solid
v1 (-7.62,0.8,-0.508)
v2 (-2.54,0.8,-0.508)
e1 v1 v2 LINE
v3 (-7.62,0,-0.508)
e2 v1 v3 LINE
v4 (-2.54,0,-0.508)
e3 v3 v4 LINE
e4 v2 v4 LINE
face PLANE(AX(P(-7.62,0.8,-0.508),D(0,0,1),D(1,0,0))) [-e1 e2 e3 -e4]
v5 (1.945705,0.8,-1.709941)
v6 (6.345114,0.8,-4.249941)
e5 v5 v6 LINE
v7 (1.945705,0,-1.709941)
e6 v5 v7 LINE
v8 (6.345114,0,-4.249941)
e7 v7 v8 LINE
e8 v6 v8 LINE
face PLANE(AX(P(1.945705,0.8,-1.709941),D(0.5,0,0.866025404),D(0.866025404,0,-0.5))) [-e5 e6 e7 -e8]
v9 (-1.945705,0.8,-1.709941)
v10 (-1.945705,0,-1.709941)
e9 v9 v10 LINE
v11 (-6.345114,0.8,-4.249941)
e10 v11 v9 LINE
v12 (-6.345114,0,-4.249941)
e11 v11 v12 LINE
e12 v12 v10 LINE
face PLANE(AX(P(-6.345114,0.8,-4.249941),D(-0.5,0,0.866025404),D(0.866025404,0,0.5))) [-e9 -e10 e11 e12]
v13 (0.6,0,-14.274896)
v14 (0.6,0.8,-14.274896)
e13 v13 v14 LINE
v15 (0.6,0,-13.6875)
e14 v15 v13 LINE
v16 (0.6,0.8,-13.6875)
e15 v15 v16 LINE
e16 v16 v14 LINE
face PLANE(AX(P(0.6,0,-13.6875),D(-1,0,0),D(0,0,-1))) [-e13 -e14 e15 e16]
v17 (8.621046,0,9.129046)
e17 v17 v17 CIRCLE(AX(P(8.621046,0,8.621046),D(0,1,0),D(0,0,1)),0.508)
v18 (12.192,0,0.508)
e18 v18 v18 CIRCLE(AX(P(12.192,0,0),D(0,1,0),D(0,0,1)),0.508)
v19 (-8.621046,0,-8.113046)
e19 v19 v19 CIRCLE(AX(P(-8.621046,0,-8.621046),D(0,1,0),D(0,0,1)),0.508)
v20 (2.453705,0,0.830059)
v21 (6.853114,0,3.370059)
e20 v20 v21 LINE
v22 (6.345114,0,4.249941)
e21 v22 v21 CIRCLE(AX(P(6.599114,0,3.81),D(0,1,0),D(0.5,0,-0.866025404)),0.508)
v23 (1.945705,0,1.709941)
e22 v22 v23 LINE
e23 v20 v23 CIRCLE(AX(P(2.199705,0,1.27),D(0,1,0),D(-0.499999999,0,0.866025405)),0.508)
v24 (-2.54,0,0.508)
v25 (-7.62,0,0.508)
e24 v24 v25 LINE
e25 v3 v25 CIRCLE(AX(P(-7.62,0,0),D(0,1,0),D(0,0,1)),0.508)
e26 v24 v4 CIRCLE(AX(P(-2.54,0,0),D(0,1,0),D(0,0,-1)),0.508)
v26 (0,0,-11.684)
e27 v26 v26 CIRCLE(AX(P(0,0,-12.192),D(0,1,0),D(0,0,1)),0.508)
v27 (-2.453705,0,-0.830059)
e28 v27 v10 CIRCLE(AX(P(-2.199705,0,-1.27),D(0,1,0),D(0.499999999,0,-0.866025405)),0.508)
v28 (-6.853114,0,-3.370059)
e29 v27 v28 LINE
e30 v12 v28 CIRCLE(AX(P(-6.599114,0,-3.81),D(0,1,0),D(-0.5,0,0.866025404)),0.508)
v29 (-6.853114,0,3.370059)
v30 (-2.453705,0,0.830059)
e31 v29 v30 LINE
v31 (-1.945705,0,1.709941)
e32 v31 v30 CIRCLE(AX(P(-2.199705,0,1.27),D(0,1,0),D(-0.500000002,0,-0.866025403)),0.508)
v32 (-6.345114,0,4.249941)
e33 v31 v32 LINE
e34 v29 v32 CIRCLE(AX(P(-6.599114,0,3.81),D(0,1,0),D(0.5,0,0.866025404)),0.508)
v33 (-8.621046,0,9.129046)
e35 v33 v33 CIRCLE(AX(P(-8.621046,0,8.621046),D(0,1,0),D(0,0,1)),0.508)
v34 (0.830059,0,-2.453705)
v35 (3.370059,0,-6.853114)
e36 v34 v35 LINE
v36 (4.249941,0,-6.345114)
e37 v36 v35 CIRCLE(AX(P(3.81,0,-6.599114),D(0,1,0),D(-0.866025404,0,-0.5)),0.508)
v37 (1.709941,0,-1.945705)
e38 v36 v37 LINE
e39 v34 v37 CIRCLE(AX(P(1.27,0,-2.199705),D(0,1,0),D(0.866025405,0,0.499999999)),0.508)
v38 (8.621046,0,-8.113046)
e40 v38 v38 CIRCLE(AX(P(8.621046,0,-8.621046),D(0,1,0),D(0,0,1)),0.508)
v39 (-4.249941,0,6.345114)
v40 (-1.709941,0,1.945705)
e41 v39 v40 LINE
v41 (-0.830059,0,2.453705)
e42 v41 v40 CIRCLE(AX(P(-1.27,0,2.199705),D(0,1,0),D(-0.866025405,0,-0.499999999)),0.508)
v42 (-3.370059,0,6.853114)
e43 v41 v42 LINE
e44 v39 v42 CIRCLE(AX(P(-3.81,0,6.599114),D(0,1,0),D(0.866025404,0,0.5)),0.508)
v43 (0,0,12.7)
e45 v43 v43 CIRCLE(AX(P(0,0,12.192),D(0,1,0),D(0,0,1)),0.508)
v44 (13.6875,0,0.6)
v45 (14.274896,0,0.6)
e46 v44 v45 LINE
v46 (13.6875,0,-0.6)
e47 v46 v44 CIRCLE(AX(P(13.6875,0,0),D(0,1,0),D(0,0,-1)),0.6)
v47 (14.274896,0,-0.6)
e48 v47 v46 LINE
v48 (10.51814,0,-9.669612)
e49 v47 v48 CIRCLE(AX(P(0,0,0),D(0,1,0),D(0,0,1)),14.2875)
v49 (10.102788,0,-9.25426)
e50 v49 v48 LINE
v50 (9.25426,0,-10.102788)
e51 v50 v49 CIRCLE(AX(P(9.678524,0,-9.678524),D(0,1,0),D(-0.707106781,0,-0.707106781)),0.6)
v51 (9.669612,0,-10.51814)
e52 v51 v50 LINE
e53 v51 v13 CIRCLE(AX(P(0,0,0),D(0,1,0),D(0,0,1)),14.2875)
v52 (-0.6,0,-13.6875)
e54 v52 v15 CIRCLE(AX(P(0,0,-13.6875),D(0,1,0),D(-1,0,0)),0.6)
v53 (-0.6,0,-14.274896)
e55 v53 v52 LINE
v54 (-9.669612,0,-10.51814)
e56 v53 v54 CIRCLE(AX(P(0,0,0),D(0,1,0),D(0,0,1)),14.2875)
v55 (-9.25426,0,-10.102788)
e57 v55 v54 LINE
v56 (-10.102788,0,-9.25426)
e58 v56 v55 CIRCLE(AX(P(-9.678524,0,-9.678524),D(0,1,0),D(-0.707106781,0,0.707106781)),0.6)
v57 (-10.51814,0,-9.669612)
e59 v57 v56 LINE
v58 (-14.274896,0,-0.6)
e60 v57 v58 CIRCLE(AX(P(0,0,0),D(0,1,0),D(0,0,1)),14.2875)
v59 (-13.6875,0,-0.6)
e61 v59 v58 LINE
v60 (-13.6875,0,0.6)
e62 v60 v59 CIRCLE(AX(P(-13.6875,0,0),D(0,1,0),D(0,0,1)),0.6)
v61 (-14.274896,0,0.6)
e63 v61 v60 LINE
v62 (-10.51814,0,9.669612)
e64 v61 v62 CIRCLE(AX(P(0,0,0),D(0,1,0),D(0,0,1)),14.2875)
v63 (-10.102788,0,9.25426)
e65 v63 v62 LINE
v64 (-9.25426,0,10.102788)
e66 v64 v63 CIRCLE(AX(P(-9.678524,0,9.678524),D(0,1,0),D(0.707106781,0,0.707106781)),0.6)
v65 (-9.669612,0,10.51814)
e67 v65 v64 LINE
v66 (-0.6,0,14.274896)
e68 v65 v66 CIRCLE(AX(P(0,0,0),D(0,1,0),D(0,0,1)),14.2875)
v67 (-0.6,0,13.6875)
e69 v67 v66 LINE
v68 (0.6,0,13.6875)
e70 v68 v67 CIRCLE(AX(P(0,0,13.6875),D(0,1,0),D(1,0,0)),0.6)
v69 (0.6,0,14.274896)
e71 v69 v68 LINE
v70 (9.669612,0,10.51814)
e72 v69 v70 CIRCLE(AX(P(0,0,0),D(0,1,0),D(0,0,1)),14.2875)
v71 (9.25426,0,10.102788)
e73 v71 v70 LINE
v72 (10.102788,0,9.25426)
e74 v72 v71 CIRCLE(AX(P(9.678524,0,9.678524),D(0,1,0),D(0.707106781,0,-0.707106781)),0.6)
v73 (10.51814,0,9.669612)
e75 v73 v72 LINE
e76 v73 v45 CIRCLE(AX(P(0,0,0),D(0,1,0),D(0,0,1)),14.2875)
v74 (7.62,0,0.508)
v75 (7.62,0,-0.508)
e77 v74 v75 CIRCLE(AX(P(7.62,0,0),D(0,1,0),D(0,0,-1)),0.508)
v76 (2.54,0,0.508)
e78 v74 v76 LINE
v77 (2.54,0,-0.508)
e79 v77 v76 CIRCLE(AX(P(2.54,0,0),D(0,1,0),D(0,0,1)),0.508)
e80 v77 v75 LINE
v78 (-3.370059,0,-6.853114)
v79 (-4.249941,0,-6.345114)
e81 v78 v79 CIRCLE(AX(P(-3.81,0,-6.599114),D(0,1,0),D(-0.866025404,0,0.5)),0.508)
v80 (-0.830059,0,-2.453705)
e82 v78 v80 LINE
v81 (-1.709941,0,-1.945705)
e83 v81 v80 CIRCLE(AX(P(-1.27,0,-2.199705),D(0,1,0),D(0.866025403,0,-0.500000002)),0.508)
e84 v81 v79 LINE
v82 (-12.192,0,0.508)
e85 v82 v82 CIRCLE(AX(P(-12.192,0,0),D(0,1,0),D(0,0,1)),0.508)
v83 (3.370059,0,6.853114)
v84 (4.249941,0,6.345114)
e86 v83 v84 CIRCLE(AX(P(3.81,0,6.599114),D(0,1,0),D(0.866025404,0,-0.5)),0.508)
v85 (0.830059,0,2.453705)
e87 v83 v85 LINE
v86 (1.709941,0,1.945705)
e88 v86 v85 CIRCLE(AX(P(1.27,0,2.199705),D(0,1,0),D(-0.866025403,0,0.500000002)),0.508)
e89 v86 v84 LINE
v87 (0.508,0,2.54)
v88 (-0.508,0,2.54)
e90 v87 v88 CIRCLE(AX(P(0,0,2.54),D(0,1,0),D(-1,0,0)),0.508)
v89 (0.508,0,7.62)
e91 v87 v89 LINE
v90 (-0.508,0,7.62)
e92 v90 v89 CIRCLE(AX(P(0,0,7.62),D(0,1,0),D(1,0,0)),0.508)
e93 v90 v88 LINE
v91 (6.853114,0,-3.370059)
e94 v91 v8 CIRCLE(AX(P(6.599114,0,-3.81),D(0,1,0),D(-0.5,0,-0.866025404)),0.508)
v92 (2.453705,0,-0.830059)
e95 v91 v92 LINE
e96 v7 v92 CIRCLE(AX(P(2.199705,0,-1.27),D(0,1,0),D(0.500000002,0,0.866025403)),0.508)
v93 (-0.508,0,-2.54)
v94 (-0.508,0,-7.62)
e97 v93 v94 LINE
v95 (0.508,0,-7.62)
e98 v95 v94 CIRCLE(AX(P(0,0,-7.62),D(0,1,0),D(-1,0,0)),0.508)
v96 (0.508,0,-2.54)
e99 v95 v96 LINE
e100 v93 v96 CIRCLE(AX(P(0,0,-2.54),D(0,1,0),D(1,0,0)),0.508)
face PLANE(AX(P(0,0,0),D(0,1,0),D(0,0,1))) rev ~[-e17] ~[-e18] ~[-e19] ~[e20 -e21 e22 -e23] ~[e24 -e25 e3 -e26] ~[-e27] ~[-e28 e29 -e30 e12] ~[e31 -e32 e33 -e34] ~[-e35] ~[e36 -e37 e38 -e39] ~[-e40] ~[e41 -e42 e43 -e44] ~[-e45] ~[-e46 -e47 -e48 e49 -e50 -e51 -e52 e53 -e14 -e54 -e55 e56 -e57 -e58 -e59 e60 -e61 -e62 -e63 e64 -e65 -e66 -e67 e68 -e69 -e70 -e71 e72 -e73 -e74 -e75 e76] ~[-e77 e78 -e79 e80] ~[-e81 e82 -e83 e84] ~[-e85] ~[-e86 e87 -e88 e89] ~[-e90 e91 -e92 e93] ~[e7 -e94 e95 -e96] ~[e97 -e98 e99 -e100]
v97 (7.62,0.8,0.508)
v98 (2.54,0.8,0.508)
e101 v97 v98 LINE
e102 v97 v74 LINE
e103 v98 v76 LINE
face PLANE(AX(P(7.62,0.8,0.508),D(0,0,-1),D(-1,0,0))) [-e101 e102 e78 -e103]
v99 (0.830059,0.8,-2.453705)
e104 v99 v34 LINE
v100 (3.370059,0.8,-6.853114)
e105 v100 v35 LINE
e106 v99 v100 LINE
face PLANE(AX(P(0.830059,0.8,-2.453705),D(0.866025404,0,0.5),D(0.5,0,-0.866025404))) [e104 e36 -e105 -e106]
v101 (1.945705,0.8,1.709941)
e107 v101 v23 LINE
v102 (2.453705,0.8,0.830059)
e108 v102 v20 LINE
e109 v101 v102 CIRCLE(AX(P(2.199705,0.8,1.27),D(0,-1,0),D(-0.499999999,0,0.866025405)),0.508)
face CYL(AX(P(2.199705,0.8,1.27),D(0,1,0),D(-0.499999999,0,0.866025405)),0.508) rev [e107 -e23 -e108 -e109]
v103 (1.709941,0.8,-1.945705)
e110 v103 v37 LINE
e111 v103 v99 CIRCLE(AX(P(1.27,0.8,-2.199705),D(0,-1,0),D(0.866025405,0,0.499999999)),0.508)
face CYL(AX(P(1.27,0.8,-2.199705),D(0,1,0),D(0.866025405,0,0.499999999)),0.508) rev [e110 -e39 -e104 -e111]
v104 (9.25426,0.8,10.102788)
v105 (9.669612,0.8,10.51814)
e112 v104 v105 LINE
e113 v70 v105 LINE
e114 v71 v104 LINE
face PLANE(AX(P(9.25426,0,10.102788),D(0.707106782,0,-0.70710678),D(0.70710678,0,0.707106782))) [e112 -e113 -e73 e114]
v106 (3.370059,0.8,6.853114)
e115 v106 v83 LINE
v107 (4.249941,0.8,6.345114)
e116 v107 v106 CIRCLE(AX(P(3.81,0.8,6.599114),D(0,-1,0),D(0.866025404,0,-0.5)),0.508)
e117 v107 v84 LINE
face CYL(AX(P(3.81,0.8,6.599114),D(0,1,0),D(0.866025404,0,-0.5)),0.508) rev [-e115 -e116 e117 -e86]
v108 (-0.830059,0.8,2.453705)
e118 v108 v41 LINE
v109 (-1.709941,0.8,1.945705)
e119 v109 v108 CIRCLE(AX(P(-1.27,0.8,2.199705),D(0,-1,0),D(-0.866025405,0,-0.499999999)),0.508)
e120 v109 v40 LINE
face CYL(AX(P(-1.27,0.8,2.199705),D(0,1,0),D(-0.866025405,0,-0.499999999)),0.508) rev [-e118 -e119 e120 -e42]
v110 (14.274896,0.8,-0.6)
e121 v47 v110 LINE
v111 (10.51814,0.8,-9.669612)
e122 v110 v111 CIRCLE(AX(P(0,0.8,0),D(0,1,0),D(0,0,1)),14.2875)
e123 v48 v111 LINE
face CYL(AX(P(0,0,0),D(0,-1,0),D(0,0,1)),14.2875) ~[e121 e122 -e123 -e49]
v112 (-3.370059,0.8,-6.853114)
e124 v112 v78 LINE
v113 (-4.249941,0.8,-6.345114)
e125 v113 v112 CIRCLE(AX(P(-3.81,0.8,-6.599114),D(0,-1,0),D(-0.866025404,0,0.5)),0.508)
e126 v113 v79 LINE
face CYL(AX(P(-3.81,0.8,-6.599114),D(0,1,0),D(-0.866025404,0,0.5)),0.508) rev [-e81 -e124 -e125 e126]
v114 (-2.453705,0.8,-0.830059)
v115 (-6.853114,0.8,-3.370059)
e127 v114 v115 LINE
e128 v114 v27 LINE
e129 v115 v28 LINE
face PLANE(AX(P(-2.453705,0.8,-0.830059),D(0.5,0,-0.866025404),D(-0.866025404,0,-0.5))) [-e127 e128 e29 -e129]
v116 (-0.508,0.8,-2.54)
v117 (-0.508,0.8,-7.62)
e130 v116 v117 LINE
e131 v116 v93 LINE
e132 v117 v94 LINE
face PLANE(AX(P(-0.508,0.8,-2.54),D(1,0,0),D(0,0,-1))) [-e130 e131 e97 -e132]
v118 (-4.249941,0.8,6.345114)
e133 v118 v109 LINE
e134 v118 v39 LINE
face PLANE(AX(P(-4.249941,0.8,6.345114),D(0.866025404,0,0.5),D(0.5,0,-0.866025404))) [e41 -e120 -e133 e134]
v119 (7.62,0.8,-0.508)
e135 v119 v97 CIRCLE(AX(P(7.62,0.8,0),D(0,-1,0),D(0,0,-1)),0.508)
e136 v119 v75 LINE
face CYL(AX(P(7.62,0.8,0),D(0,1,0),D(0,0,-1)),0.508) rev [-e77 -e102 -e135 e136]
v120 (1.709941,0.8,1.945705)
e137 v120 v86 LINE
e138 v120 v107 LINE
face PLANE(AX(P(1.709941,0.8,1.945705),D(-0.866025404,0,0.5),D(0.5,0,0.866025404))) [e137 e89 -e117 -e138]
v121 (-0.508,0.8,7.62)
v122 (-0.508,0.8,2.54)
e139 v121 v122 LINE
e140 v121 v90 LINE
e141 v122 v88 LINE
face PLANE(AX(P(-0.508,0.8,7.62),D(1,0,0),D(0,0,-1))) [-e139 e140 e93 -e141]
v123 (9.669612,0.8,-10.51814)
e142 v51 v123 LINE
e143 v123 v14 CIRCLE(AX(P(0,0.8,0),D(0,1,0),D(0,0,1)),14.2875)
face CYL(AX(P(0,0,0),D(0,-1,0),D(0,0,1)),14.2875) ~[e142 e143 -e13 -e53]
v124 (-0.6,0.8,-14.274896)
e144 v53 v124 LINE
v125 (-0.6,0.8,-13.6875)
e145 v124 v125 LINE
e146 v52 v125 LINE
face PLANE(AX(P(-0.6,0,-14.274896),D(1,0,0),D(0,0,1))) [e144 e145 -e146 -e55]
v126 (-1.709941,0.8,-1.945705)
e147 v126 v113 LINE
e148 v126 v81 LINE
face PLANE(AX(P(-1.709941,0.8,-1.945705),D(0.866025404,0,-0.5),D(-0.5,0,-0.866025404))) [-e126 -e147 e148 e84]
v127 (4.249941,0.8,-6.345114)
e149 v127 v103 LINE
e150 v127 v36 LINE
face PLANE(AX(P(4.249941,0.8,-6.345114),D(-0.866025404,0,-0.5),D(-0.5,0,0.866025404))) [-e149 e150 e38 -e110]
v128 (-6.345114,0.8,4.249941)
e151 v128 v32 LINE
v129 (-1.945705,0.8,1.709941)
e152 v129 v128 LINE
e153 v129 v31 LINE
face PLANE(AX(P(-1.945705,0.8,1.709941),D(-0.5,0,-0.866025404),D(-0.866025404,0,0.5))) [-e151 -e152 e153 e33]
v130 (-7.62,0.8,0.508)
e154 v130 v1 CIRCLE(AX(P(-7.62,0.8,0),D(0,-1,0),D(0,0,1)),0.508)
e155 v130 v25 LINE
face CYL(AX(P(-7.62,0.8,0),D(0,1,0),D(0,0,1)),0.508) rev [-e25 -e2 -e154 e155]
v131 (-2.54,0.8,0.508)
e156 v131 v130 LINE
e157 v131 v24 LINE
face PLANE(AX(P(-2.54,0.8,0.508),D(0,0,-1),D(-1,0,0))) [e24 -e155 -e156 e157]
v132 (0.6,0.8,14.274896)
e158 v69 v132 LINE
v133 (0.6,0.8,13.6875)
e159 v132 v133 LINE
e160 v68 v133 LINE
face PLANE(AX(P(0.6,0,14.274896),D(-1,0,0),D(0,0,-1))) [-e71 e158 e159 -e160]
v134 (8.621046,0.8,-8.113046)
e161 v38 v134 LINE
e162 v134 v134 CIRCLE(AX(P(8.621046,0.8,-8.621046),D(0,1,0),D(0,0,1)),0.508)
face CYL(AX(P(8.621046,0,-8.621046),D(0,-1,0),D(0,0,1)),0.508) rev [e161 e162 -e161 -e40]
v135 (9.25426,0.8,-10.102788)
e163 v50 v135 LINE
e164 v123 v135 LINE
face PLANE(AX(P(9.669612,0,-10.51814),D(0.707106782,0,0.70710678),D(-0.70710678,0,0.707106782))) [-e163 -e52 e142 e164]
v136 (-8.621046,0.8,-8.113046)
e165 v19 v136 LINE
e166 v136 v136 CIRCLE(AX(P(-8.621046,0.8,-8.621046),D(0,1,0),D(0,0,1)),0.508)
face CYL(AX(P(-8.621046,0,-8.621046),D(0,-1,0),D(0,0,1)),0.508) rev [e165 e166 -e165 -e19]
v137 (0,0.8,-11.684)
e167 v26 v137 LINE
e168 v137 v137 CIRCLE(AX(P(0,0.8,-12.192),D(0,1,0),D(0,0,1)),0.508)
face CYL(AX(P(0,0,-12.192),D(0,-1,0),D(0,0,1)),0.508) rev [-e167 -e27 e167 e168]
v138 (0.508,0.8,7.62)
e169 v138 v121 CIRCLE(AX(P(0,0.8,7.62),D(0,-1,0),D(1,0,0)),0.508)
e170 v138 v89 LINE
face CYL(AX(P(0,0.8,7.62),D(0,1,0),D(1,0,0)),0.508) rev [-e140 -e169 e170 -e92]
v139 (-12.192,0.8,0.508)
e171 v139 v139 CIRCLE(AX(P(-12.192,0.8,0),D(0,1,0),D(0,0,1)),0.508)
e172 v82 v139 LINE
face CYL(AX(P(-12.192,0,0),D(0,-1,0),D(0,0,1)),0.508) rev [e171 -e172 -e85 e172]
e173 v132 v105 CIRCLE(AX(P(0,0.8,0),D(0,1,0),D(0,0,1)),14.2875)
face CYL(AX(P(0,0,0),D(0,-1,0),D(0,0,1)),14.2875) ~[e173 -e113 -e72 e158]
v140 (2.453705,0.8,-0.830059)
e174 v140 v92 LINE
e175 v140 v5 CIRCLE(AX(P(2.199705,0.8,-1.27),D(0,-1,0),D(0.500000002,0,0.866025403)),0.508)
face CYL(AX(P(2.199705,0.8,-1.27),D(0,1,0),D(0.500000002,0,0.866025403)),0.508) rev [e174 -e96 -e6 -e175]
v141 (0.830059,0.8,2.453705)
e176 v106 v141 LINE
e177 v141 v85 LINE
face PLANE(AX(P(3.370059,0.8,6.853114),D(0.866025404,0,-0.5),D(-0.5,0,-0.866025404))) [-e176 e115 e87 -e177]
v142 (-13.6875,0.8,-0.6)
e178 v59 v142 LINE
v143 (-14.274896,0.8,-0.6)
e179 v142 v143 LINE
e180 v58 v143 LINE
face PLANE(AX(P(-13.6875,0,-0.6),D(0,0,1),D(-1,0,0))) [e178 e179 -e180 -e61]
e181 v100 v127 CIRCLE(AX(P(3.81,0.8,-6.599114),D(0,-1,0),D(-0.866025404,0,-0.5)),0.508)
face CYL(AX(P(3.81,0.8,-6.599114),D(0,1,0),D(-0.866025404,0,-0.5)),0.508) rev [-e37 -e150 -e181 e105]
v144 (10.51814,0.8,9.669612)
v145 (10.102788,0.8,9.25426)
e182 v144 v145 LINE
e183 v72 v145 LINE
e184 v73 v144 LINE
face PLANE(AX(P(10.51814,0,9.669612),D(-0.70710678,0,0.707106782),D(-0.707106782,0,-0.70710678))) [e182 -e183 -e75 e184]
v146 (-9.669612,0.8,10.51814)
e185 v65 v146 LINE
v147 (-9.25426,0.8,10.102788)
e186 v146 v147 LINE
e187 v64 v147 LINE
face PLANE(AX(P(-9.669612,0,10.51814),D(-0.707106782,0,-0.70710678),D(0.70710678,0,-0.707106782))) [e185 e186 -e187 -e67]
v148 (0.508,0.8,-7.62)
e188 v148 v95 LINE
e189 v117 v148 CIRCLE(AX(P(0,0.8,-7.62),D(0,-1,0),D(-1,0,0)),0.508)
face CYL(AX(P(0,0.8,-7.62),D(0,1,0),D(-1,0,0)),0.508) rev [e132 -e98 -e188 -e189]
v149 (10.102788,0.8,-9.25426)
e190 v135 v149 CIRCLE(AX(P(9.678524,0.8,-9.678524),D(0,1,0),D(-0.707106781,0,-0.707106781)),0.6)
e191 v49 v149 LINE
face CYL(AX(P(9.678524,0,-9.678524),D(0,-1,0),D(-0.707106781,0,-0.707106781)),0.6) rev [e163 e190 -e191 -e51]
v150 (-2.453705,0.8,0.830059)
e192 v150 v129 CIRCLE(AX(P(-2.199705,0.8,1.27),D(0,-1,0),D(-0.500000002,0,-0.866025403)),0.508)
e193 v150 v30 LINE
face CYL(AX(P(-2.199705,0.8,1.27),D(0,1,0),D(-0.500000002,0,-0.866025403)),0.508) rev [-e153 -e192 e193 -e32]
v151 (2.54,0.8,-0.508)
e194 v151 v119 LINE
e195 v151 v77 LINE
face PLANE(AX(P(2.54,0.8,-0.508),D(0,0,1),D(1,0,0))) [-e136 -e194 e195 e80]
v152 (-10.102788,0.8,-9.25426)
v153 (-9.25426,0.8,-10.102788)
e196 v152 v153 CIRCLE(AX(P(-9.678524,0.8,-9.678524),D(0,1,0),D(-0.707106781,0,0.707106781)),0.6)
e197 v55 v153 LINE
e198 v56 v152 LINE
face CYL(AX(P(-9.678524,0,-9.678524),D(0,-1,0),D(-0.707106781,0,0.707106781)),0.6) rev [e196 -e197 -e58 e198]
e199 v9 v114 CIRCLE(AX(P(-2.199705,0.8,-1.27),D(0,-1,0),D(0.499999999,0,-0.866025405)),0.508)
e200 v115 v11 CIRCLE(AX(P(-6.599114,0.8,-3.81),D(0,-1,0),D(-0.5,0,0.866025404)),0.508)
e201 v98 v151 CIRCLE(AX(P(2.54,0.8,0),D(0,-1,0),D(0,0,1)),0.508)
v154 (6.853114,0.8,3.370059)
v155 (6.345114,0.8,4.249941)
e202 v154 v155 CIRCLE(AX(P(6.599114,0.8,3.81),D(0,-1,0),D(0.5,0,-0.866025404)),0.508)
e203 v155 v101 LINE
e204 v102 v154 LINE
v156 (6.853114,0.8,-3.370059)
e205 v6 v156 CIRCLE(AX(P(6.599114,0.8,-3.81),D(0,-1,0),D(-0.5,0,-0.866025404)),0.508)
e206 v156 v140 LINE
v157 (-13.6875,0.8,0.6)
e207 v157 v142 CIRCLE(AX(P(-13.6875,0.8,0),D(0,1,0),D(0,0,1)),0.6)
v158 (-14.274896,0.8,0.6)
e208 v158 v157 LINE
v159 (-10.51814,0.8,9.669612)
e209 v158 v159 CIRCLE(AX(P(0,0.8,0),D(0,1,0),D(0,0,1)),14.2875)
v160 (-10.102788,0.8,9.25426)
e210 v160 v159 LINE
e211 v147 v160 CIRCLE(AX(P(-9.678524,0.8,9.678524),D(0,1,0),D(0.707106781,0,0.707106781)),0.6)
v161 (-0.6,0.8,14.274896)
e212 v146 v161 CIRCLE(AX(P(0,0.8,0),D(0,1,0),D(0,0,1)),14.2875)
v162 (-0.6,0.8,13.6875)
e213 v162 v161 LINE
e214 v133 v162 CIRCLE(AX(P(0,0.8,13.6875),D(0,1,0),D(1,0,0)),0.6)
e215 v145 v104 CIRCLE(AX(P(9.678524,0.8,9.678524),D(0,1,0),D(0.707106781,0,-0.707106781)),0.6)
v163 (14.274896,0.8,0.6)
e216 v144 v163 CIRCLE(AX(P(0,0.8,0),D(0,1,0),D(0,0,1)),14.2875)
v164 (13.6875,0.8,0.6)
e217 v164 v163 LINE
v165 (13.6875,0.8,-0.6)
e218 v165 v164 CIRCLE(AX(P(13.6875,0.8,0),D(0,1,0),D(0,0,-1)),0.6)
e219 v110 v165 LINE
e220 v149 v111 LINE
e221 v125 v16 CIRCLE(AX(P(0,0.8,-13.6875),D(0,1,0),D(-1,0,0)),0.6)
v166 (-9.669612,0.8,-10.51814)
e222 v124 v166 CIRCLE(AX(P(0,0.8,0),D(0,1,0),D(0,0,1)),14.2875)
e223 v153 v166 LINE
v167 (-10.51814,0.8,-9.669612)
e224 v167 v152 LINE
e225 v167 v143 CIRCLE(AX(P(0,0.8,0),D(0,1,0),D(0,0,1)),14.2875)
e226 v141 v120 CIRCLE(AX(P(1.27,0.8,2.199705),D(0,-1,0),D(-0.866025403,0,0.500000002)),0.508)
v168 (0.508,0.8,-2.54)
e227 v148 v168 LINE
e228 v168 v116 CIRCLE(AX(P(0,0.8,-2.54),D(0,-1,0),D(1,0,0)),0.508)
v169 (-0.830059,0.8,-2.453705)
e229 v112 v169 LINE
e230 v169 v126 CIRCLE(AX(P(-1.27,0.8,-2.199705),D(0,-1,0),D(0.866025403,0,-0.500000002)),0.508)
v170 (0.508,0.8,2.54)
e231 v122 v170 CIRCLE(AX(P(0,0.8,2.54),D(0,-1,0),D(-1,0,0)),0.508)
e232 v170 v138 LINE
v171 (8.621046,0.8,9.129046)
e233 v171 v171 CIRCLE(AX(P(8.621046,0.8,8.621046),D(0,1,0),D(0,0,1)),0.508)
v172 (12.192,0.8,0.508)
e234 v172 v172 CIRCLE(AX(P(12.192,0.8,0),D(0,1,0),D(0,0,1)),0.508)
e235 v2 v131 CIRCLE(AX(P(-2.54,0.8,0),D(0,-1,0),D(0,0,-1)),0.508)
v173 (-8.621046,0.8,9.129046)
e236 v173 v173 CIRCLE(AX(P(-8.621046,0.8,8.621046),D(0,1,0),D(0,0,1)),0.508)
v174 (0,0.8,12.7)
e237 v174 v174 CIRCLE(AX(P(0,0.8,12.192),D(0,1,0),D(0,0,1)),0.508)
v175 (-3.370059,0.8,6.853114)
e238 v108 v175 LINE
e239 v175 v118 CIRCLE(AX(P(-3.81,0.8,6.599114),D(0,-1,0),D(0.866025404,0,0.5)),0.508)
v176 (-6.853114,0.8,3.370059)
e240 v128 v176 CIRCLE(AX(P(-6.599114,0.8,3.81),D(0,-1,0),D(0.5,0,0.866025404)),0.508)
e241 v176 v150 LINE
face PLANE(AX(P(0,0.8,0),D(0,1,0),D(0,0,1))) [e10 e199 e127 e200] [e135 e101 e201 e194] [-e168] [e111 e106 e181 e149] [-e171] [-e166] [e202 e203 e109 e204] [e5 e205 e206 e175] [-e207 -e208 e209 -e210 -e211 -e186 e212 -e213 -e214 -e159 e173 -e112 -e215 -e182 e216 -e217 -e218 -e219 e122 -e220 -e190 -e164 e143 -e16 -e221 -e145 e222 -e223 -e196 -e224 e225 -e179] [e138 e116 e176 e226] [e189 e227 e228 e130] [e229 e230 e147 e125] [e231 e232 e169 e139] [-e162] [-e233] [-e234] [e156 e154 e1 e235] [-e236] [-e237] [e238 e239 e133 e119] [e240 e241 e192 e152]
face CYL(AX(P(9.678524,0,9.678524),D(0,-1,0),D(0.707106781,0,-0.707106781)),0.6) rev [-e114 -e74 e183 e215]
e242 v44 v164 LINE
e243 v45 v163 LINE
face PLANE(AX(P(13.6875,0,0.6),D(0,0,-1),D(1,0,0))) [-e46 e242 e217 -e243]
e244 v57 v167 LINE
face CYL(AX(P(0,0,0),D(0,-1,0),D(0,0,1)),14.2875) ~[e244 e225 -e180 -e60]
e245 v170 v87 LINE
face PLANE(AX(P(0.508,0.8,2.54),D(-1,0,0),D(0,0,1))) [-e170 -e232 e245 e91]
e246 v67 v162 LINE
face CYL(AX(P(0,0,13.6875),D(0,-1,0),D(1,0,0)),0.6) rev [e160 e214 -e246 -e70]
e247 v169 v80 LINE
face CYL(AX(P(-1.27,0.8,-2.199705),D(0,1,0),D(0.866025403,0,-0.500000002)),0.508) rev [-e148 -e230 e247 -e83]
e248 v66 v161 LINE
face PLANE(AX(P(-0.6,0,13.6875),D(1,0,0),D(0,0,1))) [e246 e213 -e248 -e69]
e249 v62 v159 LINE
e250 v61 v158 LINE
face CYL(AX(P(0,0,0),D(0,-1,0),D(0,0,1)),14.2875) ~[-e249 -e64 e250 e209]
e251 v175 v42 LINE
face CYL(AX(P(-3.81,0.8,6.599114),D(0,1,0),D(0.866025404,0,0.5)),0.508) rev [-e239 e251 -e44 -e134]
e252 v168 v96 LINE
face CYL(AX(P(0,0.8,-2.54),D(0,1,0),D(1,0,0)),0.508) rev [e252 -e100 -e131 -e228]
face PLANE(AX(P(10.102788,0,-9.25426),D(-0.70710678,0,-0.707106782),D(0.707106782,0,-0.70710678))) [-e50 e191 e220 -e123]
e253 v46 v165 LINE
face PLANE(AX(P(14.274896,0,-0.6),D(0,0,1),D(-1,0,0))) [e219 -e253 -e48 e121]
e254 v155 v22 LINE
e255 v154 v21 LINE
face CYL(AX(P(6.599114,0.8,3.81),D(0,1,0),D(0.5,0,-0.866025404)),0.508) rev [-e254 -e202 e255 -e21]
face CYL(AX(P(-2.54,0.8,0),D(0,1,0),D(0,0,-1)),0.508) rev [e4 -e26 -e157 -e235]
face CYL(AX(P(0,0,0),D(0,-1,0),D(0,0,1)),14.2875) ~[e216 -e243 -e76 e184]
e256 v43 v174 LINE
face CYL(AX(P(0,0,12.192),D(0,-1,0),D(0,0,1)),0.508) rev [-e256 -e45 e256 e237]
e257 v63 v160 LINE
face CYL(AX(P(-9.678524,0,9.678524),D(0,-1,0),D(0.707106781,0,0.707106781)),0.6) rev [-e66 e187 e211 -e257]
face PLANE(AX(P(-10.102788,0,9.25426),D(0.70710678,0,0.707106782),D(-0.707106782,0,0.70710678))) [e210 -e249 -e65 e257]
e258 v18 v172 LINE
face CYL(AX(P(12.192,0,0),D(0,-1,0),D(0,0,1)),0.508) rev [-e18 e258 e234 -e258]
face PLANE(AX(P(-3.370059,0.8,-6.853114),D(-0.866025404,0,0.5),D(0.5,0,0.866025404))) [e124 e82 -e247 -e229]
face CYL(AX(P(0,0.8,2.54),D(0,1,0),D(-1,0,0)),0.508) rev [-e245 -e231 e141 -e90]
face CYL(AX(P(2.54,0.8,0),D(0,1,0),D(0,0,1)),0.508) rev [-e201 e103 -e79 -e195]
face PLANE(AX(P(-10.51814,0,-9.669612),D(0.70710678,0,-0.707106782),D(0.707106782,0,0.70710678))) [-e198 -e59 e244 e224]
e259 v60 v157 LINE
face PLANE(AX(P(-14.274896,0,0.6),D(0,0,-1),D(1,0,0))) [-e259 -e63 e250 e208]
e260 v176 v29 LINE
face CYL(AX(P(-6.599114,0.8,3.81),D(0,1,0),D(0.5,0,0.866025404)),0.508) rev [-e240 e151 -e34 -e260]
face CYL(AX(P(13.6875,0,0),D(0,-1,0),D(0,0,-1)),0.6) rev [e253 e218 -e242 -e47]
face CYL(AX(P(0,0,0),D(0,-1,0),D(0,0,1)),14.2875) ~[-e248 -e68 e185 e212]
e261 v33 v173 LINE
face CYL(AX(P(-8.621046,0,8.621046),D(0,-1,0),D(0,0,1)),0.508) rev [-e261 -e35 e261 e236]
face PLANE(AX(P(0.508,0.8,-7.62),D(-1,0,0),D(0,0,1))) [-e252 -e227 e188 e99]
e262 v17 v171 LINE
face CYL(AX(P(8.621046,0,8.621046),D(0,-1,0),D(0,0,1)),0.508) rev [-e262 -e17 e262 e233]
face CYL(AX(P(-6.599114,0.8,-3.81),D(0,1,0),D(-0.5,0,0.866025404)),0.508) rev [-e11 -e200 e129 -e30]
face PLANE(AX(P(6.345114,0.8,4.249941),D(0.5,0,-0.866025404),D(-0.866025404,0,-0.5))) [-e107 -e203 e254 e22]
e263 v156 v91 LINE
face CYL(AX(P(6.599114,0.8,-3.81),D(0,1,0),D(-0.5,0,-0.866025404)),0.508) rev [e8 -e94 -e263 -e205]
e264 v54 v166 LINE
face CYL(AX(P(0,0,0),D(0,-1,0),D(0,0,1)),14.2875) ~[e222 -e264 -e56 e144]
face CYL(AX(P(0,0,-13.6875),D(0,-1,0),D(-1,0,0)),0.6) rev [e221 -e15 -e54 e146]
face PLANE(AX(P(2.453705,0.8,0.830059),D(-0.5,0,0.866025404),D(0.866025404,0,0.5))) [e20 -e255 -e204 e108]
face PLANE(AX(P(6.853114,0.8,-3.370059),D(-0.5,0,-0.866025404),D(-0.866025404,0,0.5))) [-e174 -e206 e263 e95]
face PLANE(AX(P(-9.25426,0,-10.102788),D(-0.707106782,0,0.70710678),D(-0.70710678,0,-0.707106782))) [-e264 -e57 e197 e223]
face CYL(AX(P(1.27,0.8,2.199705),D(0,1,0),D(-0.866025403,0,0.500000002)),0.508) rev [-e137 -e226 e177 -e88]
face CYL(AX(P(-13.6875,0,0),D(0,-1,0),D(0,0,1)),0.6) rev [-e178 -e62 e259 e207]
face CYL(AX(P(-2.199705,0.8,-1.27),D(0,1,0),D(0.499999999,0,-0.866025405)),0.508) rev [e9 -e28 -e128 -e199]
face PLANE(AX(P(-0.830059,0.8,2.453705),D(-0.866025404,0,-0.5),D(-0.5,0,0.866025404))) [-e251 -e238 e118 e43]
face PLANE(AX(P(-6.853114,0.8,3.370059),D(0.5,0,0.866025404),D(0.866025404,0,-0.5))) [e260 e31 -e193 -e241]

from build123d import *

# Parameters (mm, degrees)
SKETCH1_R           = 14.2875
SKETCH1_R_2         = 0.508
BOSS_EXTRUDE1_DEPTH = 0.8
CUT_EXTRUDE1_START  = -0.8
CUT_EXTRUDE1_DEPTH  = 0.8
CUT_EXTRUDE2_DEPTH  = 21.203596524


with BuildPart() as part:
    # Sketch1 → Boss-Extrude1 (new body)
    with BuildSketch(Plane(origin=(0, 0, 0), x_dir=(1, 0, 0), z_dir=(0, 1, 0))):
        with Locations(Location((0, 0, 0), (0, 0, 270))):
            Circle(SKETCH1_R)
        with Locations(Location((0, 12.192, 0), (0, 0, 270))):
            Circle(SKETCH1_R_2, mode=Mode.SUBTRACT)
        with Locations(Location((8.621045876, 8.621045876, 0), (0, 0, 270))):
            Circle(SKETCH1_R_2, mode=Mode.SUBTRACT)
        with Locations(Location((12.192, 0, 0), (0, 0, 270))):
            Circle(SKETCH1_R_2, mode=Mode.SUBTRACT)
        with Locations(Location((8.621045876, -8.621045876, 0), (0, 0, 270))):
            Circle(SKETCH1_R_2, mode=Mode.SUBTRACT)
        with Locations(Location((0, -12.192, 0), (0, 0, 270))):
            Circle(SKETCH1_R_2, mode=Mode.SUBTRACT)
        with Locations(Location((-8.621045876, -8.621045876, 0), (0, 0, 270))):
            Circle(SKETCH1_R_2, mode=Mode.SUBTRACT)
        with Locations(Location((-12.192, 0, 0), (0, 0, 270))):
            Circle(SKETCH1_R_2, mode=Mode.SUBTRACT)
        with Locations(Location((-8.621045876, 8.621045876, 0), (0, 0, 270))):
            Circle(SKETCH1_R_2, mode=Mode.SUBTRACT)
    extrude(amount=BOSS_EXTRUDE1_DEPTH)

    # Sketch2 → Cut-Extrude1 (cut)
    with BuildSketch(Plane(origin=(0, 0.8, 0), x_dir=(1, 0, 0), z_dir=(0, 1, 0)).offset(CUT_EXTRUDE1_START)):
        with BuildLine():
            ThreePointArc((10.518139842, 9.669611704), (10.102788136, 10.102788136), (9.669611704, 10.518139842))
            Line((9.669611704, 10.518139842), (9.254259999, 10.102788136))
            ThreePointArc((9.254259999, 10.102788136), (9.254259999, 9.254259999), (10.102788136, 9.254259999))
            Line((10.102788136, 9.254259999), (10.518139842, 9.669611704))
        make_face()
        with BuildLine():
            ThreePointArc((14.2875, 0), (14.284348656, 0.300066185), (14.274896015, 0.6))
            Line((14.274896015, 0.6), (13.6875, 0.6))
            ThreePointArc((13.6875, 0.6), (13.0875, 0), (13.6875, -0.6))
            Line((13.6875, -0.6), (14.274896015, -0.6))
            ThreePointArc((14.274896015, -0.6), (14.284348656, -0.300066185), (14.2875, 0))
        make_face()
        with BuildLine():
            ThreePointArc((0.6, 14.274896015), (0, 14.2875), (-0.6, 14.274896015))
            Line((-0.6, 14.274896015), (-0.6, 13.6875))
            ThreePointArc((-0.6, 13.6875), (0, 13.0875), (0.6, 13.6875))
            Line((0.6, 13.6875), (0.6, 14.274896015))
        make_face()
        with BuildLine():
            ThreePointArc((9.669611704, -10.518139842), (10.102788136, -10.102788136), (10.518139842, -9.669611704))
            Line((10.518139842, -9.669611704), (10.102788136, -9.254259999))
            ThreePointArc((10.102788136, -9.254259999), (9.254259999, -9.254259999), (9.254259999, -10.102788136))
            Line((9.254259999, -10.102788136), (9.669611704, -10.518139842))
        make_face()
        with BuildLine():
            Line((-0.6, -13.6875), (-0.6, -14.274896015))
            ThreePointArc((-0.6, -14.274896015), (0, -14.2875), (0.6, -14.274896015))
            Line((0.6, -14.274896015), (0.6, -13.6875))
            ThreePointArc((0.6, -13.6875), (0, -13.0875), (-0.6, -13.6875))
        make_face()
        with BuildLine():
            Line((-10.102788136, -9.254259999), (-10.518139842, -9.669611704))
            ThreePointArc((-10.518139842, -9.669611704), (-10.102788136, -10.102788136), (-9.669611704, -10.518139842))
            Line((-9.669611704, -10.518139842), (-9.254259999, -10.102788136))
            ThreePointArc((-9.254259999, -10.102788136), (-9.254259999, -9.254259999), (-10.102788136, -9.254259999))
        make_face()
        with BuildLine():
            Line((-13.6875, 0.6), (-14.274896015, 0.6))
            ThreePointArc((-14.274896015, 0.6), (-14.2875, 0), (-14.274896015, -0.6))
            Line((-14.274896015, -0.6), (-13.6875, -0.6))
            ThreePointArc((-13.6875, -0.6), (-13.0875, 0), (-13.6875, 0.6))
        make_face()
        with BuildLine():
            Line((-9.254259999, 10.102788136), (-9.669611704, 10.518139842))
            ThreePointArc((-9.669611704, 10.518139842), (-10.102788136, 10.102788136), (-10.518139842, 9.669611704))
            Line((-10.518139842, 9.669611704), (-10.102788136, 9.254259999))
            ThreePointArc((-10.102788136, 9.254259999), (-9.254259999, 9.254259999), (-9.254259999, 10.102788136))
        make_face()
    extrude(amount=CUT_EXTRUDE1_DEPTH, mode=Mode.SUBTRACT)

    # Sketch3 → Cut-Extrude2 (cut, through all)
    with BuildSketch(Plane(origin=(0, 0.8, 0), x_dir=(1, 0, 0), z_dir=(0, 1, 0))):
        with BuildLine():
            Line((-0.508, 2.54), (-0.508, 7.62))
            ThreePointArc((-0.508, 7.62), (0, 8.128), (0.508, 7.62))
            Line((0.508, 7.62), (0.508, 2.54))
            ThreePointArc((0.508, 2.54), (0, 2.032), (-0.508, 2.54))
        make_face()
        with BuildLine():
            Line((0.830059095, 2.453704526), (3.370059095, 6.853113577))
            ThreePointArc((3.370059095, 6.853113577), (4.064, 7.039054482), (4.249940905, 6.345113577))
            Line((4.249940905, 6.345113577), (1.709940905, 1.945704526))
            ThreePointArc((1.709940905, 1.945704526), (1.016, 1.75976362), (0.830059095, 2.453704526))
        make_face()
        with BuildLine():
            Line((1.945704526, 1.709940905), (6.345113577, 4.249940905))
            ThreePointArc((6.345113577, 4.249940905), (7.039054482, 4.064), (6.853113577, 3.370059095))
            Line((6.853113577, 3.370059095), (2.453704526, 0.830059095))
            ThreePointArc((2.453704526, 0.830059095), (1.75976362, 1.016), (1.945704526, 1.709940905))
        make_face()
        with BuildLine():
            Line((2.54, 0.508), (7.62, 0.508))
            ThreePointArc((7.62, 0.508), (8.128, 0), (7.62, -0.508))
            Line((7.62, -0.508), (2.54, -0.508))
            ThreePointArc((2.54, -0.508), (2.032, 0), (2.54, 0.508))
        make_face()
        with BuildLine():
            Line((2.453704526, -0.830059095), (6.853113577, -3.370059095))
            ThreePointArc((6.853113577, -3.370059095), (7.039054482, -4.064), (6.345113577, -4.249940905))
            Line((6.345113577, -4.249940905), (1.945704526, -1.709940905))
            ThreePointArc((1.945704526, -1.709940905), (1.75976362, -1.016), (2.453704526, -0.830059095))
        make_face()
        with BuildLine():
            Line((1.709940905, -1.945704526), (4.249940905, -6.345113577))
            ThreePointArc((4.249940905, -6.345113577), (4.064, -7.039054482), (3.370059095, -6.853113577))
            Line((3.370059095, -6.853113577), (0.830059095, -2.453704526))
            ThreePointArc((0.830059095, -2.453704526), (1.016, -1.75976362), (1.709940905, -1.945704526))
        make_face()
        with BuildLine():
            Line((0.508, -2.54), (0.508, -7.62))
            ThreePointArc((0.508, -7.62), (0, -8.128), (-0.508, -7.62))
            Line((-0.508, -7.62), (-0.508, -2.54))
            ThreePointArc((-0.508, -2.54), (0, -2.032), (0.508, -2.54))
        make_face()
        with BuildLine():
            Line((-0.830059095, -2.453704526), (-3.370059095, -6.853113577))
            ThreePointArc((-3.370059095, -6.853113577), (-4.064, -7.039054482), (-4.249940905, -6.345113577))
            Line((-4.249940905, -6.345113577), (-1.709940905, -1.945704526))
            ThreePointArc((-1.709940905, -1.945704526), (-1.016, -1.75976362), (-0.830059095, -2.453704526))
        make_face()
        with BuildLine():
            Line((-1.945704526, -1.709940905), (-6.345113577, -4.249940905))
            ThreePointArc((-6.345113577, -4.249940905), (-7.039054482, -4.064), (-6.853113577, -3.370059095))
            Line((-6.853113577, -3.370059095), (-2.453704526, -0.830059095))
            ThreePointArc((-2.453704526, -0.830059095), (-1.75976362, -1.016), (-1.945704526, -1.709940905))
        make_face()
        with BuildLine():
            Line((-2.54, -0.508), (-7.62, -0.508))
            ThreePointArc((-7.62, -0.508), (-8.128, 0), (-7.62, 0.508))
            Line((-7.62, 0.508), (-2.54, 0.508))
            ThreePointArc((-2.54, 0.508), (-2.032, 0), (-2.54, -0.508))
        make_face()
        with BuildLine():
            Line((-2.453704526, 0.830059095), (-6.853113577, 3.370059095))
            ThreePointArc((-6.853113577, 3.370059095), (-7.039054482, 4.064), (-6.345113577, 4.249940905))
            Line((-6.345113577, 4.249940905), (-1.945704526, 1.709940905))
            ThreePointArc((-1.945704526, 1.709940905), (-1.75976362, 1.016), (-2.453704526, 0.830059095))
        make_face()
        with BuildLine():
            Line((-1.709940905, 1.945704526), (-4.249940905, 6.345113577))
            ThreePointArc((-4.249940905, 6.345113577), (-4.064, 7.039054482), (-3.370059095, 6.853113577))
            Line((-3.370059095, 6.853113577), (-0.830059095, 2.453704526))
            ThreePointArc((-0.830059095, 2.453704526), (-1.016, 1.75976362), (-1.709940905, 1.945704526))
        make_face()
    extrude(amount=-CUT_EXTRUDE2_DEPTH, mode=Mode.SUBTRACT)


solid = part.part
